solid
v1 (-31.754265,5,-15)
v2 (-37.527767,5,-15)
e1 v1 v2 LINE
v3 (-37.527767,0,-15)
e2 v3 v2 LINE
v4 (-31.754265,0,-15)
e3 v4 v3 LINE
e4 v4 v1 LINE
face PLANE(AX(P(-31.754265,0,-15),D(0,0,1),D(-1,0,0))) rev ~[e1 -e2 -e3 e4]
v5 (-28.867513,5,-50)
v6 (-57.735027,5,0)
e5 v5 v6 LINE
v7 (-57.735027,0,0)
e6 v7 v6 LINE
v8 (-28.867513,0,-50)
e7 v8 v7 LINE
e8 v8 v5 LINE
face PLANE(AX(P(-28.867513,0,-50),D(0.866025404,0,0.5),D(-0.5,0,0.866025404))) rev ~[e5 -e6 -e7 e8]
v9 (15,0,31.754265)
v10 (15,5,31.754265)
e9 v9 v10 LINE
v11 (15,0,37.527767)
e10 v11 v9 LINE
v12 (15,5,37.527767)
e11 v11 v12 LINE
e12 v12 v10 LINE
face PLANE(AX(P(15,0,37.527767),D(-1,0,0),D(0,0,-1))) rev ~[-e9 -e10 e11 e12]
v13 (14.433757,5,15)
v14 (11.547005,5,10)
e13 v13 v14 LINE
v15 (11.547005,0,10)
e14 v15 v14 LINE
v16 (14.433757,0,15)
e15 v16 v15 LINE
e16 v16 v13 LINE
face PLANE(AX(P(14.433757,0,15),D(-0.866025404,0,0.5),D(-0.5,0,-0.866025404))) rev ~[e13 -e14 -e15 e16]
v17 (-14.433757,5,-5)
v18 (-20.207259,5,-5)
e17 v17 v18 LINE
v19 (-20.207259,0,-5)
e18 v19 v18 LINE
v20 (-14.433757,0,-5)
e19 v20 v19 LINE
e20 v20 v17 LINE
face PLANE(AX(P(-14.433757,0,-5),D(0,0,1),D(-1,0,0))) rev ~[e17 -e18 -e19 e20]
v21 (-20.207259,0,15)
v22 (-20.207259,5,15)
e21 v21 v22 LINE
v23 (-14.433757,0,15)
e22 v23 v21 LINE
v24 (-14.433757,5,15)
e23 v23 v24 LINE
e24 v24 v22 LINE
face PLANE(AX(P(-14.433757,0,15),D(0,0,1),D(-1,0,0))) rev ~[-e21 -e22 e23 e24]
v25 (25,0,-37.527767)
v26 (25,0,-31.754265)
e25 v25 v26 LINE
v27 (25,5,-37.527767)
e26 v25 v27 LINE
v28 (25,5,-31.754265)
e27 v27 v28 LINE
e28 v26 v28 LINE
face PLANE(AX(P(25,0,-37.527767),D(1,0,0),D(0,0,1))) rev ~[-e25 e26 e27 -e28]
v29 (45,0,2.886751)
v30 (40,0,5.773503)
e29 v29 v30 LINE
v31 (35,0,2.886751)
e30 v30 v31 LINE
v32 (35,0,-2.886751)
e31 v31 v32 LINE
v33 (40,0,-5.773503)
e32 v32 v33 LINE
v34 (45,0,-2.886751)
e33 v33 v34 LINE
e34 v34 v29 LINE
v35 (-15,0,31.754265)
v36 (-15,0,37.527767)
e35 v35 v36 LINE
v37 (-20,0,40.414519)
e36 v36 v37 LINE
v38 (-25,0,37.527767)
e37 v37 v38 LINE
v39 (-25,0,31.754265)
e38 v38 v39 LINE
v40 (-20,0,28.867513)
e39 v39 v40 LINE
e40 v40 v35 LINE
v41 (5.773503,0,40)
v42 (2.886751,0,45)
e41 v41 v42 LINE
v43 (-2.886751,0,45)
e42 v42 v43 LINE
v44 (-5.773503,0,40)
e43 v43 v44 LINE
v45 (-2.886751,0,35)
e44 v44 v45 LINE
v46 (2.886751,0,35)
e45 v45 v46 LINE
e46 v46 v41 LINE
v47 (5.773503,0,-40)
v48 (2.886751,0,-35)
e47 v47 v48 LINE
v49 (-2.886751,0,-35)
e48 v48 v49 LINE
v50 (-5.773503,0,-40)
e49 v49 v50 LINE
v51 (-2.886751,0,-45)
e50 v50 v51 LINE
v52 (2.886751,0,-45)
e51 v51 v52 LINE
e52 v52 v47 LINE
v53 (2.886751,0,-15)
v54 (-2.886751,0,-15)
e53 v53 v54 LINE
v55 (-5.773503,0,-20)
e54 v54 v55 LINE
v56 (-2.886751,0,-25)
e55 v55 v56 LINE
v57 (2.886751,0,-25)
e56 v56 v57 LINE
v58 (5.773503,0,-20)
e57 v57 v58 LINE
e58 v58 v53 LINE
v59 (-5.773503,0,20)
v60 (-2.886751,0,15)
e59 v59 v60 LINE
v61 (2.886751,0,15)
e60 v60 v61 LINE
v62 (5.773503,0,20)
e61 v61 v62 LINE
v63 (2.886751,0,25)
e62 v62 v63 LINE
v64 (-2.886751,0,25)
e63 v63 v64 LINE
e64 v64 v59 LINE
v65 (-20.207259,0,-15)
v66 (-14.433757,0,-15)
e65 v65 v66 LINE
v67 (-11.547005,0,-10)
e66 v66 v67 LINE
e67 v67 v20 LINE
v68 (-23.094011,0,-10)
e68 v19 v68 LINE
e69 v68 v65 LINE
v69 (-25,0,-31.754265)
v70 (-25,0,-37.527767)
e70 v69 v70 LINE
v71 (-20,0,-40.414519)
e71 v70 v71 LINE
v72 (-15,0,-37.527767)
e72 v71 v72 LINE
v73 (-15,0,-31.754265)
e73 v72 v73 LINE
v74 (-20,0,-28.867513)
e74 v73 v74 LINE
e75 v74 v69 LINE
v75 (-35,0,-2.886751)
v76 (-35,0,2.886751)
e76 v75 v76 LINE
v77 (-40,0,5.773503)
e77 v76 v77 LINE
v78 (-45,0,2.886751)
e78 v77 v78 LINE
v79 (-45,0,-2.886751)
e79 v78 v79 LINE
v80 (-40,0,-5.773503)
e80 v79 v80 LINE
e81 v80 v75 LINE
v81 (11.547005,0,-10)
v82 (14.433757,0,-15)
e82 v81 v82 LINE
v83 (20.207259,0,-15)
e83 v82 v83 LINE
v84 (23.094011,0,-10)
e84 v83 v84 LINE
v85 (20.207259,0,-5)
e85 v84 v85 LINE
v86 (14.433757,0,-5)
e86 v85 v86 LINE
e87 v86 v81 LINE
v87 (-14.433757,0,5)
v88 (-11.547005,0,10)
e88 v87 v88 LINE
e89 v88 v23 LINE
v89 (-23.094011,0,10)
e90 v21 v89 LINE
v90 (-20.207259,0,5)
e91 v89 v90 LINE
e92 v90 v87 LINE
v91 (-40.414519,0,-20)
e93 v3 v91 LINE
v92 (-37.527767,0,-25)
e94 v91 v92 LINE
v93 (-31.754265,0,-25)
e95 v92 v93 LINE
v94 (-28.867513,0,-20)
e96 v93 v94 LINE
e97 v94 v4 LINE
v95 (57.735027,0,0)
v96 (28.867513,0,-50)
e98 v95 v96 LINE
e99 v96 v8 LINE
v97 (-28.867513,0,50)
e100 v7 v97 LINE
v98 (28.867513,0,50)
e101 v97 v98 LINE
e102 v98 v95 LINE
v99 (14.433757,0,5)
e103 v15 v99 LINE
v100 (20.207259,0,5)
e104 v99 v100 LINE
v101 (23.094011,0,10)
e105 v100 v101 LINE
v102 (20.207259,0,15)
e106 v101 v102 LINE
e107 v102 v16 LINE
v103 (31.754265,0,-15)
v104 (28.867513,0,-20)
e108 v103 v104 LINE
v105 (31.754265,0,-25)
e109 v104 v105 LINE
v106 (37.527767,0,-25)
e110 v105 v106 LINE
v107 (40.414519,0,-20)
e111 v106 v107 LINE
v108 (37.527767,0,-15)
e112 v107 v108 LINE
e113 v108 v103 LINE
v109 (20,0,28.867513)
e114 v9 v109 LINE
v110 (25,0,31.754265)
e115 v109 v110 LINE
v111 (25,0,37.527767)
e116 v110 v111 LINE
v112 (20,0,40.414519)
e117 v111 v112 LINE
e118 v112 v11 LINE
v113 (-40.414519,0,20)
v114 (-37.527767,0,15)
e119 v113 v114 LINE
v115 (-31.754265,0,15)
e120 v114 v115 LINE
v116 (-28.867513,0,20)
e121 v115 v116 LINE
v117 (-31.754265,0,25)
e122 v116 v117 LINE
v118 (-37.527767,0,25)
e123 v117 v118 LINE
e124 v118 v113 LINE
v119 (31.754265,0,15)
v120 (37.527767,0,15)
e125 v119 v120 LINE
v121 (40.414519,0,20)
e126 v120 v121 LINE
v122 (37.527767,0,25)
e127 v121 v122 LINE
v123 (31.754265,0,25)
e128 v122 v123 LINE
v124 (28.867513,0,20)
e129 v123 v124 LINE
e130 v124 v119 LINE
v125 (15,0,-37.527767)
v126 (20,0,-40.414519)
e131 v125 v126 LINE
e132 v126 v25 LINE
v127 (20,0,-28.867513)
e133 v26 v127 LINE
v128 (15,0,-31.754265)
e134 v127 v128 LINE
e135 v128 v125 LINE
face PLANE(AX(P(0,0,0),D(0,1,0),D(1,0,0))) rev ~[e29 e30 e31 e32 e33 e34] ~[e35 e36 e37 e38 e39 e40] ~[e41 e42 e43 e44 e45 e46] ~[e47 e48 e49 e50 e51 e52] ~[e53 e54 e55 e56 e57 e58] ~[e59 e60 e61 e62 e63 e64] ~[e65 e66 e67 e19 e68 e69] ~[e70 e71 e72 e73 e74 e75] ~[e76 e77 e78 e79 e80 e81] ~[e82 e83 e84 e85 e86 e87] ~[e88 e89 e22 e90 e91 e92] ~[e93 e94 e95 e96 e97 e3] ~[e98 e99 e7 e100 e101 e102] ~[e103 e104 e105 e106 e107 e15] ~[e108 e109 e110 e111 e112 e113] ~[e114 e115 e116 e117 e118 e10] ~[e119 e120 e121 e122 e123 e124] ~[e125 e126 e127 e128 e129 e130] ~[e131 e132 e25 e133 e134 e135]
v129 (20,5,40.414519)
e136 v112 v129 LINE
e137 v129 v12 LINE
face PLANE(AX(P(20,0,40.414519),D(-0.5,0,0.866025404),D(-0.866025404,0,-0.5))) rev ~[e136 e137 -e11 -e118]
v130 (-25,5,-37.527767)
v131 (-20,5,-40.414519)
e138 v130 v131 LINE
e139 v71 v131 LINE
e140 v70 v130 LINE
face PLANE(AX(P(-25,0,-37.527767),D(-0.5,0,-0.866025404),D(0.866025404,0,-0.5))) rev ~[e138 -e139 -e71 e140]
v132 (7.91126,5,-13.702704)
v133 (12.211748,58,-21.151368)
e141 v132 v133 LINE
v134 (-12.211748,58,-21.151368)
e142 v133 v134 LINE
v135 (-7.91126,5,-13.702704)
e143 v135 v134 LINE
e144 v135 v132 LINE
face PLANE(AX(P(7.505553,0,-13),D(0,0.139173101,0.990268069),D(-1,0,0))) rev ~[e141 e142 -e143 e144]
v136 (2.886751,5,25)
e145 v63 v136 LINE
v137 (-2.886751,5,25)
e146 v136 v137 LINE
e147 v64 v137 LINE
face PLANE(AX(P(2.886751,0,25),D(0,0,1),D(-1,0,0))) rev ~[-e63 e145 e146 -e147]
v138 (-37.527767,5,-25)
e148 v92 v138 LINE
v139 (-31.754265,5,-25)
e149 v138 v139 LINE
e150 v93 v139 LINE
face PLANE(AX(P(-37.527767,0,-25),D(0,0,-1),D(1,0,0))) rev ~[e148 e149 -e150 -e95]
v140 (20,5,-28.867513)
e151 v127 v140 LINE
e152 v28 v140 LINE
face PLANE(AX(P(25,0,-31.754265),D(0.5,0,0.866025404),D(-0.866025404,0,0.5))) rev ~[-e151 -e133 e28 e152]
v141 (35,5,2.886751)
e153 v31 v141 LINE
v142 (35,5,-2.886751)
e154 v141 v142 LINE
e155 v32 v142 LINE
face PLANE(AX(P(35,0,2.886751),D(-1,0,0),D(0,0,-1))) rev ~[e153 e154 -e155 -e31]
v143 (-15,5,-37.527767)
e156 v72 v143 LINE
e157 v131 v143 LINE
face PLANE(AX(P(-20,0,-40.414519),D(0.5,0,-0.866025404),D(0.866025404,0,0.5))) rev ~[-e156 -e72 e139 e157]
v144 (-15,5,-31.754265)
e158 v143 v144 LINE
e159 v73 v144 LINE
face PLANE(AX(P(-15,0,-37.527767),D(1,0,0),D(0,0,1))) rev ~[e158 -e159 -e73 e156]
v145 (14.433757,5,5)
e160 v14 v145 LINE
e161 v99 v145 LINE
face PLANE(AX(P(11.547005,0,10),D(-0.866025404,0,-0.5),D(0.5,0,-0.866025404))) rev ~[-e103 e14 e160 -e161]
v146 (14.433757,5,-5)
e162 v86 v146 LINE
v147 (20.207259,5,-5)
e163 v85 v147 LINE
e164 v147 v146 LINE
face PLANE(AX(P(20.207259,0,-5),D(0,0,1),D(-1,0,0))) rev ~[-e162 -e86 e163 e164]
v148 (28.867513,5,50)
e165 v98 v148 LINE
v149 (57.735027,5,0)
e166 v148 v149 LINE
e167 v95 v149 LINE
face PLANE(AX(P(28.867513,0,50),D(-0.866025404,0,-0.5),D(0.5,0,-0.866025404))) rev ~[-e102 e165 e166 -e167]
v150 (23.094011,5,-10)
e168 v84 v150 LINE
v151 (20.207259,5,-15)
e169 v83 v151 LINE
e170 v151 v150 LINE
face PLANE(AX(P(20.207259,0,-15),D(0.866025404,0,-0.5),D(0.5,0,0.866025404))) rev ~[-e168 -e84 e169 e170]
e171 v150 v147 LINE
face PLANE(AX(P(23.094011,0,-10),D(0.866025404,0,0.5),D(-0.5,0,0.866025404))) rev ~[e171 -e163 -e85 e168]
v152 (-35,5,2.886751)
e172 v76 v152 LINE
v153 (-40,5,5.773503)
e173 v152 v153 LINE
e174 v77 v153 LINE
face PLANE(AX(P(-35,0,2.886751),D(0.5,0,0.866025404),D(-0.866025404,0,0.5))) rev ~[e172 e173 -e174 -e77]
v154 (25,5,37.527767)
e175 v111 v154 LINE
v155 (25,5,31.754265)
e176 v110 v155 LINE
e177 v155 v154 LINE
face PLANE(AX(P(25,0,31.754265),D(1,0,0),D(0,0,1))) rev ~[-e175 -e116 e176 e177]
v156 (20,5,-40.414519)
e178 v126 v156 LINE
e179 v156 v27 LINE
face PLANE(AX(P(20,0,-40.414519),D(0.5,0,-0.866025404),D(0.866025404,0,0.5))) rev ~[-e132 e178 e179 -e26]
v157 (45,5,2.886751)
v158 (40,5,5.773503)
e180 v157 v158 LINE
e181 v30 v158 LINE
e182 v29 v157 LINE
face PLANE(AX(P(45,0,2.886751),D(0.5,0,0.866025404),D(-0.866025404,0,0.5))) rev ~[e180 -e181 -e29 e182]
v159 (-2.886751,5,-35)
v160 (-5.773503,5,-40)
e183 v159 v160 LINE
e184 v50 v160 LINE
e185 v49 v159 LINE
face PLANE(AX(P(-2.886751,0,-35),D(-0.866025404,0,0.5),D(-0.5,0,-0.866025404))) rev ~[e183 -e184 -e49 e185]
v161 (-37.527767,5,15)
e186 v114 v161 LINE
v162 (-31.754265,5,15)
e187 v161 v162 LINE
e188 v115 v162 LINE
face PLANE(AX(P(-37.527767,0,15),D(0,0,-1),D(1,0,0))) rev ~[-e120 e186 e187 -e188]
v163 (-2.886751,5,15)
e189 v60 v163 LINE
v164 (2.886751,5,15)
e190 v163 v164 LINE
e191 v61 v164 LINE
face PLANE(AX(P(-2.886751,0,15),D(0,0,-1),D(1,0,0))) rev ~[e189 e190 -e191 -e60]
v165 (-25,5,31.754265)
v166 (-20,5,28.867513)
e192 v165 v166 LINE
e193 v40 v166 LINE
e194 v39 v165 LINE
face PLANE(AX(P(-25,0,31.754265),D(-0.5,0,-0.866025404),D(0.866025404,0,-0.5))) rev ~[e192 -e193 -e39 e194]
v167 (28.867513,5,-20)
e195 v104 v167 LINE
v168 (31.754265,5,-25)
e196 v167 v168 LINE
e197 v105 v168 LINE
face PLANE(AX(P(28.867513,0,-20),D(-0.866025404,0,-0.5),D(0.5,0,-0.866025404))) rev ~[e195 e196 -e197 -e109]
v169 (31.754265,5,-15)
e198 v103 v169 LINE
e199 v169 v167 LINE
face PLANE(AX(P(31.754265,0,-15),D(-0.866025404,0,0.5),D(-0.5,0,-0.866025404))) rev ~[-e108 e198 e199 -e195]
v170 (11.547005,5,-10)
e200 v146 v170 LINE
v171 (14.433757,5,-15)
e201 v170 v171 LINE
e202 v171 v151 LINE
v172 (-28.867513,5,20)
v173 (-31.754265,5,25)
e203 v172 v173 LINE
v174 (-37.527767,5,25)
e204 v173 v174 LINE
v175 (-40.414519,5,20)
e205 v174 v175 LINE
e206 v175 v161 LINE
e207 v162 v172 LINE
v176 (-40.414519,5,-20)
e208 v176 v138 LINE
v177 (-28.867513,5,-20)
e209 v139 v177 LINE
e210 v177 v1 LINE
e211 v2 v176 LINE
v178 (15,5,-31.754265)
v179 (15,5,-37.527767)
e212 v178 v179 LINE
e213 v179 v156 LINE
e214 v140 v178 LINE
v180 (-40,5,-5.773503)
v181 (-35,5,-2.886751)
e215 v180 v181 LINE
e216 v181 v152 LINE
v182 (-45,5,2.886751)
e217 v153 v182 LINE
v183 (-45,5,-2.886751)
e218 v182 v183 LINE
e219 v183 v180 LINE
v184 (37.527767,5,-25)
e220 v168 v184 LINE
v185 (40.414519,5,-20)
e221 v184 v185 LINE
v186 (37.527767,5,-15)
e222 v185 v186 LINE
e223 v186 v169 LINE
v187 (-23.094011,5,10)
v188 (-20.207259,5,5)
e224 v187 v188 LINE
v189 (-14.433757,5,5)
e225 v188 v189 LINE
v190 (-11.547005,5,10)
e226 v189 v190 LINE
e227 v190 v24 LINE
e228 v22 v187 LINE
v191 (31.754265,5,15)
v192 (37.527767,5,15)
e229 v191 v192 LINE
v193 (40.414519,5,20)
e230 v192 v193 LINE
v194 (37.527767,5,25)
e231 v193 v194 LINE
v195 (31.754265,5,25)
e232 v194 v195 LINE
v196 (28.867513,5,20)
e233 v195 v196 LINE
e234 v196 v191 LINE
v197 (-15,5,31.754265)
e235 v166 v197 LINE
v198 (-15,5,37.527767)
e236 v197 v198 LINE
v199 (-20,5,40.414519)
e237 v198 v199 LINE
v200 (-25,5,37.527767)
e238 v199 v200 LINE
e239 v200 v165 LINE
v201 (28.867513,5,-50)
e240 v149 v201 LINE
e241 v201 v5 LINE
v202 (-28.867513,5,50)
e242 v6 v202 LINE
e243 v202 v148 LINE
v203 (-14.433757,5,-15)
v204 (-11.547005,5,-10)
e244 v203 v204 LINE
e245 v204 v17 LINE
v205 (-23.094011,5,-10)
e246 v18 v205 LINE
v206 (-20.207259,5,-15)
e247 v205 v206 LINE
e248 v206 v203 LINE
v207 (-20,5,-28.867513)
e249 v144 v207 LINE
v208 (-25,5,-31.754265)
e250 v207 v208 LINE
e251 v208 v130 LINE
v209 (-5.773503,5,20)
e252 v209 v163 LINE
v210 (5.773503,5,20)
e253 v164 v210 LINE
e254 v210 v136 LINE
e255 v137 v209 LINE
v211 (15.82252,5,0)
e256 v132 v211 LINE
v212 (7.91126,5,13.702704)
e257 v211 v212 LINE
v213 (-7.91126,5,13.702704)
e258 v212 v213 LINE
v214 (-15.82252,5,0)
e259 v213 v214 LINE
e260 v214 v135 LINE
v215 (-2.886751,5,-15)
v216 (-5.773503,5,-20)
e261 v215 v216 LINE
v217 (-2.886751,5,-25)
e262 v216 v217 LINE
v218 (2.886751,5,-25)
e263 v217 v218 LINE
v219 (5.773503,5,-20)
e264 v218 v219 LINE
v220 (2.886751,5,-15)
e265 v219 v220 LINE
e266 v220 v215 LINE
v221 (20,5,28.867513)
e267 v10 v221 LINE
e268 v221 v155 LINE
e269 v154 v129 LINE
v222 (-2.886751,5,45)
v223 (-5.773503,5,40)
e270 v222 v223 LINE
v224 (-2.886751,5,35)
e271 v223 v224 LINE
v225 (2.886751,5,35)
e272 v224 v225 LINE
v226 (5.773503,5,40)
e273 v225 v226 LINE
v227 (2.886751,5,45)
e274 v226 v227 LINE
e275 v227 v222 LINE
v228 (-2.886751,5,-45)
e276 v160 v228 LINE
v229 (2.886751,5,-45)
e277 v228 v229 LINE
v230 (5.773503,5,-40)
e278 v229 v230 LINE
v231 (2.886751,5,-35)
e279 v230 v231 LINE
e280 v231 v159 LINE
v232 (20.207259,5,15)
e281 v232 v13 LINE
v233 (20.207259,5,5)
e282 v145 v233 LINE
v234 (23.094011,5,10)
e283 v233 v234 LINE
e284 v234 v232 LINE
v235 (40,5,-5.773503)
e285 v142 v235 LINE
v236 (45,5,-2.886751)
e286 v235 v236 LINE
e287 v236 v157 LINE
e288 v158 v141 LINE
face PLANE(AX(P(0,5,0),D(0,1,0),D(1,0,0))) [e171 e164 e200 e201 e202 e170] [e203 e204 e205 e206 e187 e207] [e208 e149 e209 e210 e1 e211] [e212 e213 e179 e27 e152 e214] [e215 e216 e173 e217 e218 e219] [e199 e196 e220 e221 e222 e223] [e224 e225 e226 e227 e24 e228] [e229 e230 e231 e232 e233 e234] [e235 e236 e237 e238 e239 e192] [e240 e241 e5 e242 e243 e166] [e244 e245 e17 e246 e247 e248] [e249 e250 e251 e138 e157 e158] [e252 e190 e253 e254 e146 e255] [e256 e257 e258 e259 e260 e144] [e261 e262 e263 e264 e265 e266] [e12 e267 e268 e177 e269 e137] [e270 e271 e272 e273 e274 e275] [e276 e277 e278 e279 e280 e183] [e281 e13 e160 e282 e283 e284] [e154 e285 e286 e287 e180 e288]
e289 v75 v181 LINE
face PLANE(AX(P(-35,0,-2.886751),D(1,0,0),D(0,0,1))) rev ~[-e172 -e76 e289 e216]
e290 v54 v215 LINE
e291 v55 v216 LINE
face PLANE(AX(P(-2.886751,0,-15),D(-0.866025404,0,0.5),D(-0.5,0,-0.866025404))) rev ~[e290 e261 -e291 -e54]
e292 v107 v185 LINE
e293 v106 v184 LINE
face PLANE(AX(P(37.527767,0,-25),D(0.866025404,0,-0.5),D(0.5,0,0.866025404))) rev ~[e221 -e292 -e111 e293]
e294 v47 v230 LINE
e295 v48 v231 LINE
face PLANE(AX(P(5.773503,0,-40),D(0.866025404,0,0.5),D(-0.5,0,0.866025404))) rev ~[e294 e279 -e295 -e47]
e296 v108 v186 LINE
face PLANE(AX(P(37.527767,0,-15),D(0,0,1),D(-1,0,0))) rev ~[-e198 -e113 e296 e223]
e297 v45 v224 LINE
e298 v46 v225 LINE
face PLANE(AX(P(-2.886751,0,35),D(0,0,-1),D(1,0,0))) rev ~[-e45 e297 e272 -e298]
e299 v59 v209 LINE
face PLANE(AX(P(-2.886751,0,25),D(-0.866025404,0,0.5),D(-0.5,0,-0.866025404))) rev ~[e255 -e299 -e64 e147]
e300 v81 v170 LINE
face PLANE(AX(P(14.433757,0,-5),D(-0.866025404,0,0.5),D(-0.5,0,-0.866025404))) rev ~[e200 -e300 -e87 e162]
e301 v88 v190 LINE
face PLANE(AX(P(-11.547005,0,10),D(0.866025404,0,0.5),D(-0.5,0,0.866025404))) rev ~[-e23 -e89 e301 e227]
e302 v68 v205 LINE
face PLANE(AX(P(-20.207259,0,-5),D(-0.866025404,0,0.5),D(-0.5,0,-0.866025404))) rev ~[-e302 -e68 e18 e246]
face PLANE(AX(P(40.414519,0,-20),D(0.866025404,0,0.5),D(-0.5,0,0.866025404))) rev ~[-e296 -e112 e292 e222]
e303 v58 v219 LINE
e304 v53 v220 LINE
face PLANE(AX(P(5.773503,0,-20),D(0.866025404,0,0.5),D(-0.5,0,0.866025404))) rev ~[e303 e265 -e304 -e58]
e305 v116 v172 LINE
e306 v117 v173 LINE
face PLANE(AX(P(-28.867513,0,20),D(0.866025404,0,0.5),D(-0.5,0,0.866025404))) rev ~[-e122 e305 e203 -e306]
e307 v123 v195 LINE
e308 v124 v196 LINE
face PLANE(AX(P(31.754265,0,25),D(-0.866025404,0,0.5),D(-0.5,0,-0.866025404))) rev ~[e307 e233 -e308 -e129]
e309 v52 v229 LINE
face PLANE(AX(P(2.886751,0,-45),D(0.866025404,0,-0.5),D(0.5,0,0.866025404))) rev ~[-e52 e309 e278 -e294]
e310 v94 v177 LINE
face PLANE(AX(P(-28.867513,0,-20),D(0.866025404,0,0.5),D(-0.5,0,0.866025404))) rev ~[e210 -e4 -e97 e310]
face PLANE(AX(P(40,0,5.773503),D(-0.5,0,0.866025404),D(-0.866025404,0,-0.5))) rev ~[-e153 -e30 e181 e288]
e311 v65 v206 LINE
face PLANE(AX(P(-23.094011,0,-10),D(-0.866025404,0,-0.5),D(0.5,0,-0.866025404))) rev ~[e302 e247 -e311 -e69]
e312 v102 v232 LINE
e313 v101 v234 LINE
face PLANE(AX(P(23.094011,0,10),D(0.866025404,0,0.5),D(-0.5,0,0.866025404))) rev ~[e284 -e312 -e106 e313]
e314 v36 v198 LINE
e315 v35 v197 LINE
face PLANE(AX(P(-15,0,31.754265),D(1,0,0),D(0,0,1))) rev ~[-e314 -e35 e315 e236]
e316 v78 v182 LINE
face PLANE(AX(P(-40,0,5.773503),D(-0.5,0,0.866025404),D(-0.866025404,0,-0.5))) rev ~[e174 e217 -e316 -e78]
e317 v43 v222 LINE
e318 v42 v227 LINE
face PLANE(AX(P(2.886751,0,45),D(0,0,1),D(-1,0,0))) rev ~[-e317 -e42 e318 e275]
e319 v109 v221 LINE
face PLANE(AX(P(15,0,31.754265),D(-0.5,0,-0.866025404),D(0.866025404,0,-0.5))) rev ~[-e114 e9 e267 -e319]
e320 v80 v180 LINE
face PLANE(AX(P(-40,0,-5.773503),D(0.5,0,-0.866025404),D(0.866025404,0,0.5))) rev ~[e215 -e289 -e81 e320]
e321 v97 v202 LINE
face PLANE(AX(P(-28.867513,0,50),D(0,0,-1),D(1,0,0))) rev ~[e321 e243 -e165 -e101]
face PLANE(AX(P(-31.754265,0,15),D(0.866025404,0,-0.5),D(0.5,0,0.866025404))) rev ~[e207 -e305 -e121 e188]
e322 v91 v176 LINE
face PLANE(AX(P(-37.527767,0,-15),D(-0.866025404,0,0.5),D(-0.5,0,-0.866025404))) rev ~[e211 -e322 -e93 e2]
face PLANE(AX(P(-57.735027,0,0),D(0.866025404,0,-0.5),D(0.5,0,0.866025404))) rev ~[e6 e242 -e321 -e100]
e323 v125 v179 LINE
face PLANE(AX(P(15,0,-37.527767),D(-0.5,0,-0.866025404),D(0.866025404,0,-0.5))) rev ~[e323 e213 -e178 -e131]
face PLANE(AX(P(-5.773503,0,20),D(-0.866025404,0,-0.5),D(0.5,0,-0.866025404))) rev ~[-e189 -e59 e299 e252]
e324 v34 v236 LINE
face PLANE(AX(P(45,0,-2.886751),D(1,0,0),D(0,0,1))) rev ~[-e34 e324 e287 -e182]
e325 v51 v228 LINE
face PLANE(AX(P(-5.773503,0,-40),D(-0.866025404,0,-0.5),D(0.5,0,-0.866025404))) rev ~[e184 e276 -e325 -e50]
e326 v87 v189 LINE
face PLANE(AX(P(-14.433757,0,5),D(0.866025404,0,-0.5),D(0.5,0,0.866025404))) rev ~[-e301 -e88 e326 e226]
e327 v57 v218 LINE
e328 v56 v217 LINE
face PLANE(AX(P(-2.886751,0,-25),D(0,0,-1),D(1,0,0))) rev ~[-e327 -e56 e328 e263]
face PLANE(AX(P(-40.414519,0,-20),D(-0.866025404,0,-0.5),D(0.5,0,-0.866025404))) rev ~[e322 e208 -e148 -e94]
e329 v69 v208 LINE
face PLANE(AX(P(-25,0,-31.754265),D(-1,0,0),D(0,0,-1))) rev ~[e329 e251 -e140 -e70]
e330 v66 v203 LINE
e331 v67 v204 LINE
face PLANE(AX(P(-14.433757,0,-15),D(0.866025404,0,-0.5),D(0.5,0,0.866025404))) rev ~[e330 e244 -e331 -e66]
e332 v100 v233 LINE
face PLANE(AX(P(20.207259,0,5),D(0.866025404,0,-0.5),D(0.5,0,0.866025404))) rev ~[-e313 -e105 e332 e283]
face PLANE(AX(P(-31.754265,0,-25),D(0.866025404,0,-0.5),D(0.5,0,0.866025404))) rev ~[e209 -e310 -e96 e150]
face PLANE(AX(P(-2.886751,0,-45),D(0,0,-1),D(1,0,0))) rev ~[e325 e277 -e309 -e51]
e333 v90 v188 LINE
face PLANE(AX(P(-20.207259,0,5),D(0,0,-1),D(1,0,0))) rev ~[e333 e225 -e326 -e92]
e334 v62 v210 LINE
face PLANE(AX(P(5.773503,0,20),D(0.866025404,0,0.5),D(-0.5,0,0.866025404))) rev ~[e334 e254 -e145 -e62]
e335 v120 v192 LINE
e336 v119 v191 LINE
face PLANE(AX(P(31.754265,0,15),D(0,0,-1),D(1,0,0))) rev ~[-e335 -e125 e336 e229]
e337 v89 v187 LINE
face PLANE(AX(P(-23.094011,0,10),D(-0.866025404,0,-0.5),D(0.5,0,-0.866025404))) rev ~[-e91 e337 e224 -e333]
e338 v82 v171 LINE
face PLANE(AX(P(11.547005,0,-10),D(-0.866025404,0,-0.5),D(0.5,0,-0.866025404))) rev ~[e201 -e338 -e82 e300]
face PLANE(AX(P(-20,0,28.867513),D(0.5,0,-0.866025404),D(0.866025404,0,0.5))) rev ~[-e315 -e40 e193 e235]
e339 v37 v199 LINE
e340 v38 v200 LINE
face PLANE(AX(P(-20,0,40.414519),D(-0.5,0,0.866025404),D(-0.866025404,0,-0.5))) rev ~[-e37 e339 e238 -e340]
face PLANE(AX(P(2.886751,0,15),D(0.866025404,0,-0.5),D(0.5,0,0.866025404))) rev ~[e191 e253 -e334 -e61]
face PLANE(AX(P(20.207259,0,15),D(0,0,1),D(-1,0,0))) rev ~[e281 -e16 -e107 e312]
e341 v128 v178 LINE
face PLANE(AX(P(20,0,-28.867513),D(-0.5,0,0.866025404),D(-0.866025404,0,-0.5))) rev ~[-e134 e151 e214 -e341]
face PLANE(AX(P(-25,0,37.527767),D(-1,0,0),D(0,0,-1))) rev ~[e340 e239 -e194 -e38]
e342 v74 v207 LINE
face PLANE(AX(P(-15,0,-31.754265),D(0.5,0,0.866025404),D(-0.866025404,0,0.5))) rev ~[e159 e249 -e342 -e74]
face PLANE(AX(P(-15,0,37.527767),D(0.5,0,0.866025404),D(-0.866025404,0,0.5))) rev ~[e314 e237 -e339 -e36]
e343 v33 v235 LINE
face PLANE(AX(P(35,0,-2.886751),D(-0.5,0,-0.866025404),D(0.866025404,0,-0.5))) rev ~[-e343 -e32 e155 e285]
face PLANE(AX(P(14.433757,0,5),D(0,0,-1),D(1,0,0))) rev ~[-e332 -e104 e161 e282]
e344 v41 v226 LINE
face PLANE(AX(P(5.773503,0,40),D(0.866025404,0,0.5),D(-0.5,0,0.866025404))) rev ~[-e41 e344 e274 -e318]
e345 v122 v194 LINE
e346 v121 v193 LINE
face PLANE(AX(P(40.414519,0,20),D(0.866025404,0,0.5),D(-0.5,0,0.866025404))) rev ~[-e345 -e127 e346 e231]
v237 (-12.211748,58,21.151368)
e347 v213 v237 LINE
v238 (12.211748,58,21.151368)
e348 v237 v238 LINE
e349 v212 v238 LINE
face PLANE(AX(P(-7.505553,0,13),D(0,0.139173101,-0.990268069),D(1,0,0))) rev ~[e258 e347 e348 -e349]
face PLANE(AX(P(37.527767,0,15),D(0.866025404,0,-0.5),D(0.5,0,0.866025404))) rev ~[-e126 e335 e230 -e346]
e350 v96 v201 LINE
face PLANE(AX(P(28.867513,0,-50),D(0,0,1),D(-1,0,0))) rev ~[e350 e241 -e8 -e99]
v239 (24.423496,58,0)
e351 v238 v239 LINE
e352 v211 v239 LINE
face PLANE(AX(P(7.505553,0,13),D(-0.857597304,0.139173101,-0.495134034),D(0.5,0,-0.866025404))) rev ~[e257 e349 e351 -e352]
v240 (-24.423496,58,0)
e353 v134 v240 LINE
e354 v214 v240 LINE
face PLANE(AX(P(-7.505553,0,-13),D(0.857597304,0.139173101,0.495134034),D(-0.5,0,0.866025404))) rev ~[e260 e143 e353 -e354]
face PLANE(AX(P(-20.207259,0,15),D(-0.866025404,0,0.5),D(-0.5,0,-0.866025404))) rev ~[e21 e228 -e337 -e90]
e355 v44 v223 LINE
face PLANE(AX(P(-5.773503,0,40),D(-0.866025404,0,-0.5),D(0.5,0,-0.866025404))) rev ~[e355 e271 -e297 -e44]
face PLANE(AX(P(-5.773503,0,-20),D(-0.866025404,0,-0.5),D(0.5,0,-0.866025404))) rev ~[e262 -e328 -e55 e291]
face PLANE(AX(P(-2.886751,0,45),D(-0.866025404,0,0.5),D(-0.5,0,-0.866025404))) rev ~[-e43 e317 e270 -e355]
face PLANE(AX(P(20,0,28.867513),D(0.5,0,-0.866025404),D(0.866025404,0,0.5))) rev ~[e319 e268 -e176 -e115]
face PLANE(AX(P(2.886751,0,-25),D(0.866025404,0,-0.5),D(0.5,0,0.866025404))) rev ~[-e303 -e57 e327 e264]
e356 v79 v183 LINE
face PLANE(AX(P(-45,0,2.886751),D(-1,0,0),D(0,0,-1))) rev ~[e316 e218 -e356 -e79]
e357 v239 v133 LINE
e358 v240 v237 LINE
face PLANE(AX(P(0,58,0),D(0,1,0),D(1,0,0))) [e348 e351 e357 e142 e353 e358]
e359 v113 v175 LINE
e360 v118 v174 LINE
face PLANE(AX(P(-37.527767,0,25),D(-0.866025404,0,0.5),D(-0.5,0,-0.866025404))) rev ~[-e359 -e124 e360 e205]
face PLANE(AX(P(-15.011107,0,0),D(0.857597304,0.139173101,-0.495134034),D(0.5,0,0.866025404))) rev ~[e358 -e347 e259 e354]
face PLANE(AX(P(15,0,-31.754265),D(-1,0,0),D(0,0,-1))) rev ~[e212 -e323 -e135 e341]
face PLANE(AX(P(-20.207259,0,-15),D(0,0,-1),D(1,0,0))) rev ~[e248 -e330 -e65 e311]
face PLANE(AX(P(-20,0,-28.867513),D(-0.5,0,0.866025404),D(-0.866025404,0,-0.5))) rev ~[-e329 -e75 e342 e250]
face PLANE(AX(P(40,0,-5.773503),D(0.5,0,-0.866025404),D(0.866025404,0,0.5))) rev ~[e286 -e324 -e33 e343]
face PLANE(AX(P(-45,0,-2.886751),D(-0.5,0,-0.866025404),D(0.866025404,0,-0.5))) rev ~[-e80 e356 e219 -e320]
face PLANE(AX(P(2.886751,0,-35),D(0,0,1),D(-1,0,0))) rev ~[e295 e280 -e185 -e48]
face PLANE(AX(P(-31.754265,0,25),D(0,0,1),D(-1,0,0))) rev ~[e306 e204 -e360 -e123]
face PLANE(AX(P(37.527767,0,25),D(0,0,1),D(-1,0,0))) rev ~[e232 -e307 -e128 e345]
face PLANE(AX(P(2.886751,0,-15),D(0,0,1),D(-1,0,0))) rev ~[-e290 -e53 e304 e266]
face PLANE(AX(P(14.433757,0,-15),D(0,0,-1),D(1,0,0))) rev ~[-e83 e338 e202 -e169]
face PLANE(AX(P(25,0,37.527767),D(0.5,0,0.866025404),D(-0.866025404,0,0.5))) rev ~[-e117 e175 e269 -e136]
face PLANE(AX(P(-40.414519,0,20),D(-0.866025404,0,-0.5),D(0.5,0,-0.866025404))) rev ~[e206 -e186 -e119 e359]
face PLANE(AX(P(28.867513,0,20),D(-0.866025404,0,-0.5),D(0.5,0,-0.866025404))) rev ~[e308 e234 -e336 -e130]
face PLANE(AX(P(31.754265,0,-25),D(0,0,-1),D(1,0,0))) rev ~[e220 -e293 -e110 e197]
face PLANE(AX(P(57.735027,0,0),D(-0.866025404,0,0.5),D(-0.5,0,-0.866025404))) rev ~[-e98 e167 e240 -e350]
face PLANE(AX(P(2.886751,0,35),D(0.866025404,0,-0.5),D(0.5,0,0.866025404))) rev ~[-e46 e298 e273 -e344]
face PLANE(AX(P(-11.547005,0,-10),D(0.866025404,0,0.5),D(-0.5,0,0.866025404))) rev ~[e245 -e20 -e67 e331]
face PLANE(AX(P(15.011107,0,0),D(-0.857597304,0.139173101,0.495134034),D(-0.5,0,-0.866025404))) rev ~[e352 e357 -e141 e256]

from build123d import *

# Parameters (mm, degrees)
BOSS_EXTRUDE1_DEPTH = 5
BOSS_EXTRUDE2_DEPTH = 58
BOSS_EXTRUDE2_DRAFT = -8


with BuildPart() as part:
    # Sketch1 → Boss-Extrude1 (new body)
    with BuildSketch(Plane(origin=(0, 0, 0), x_dir=(1, 0, 0), z_dir=(0, 1, 0))):
        Polygon((38.97114317, 32.5), (28.867513459, 50), (8.660254038, 50), (-8.660254038, 50), (-28.867513459, 50), (-38.97114317, 32.5), (-47.631397208, 17.5), (-57.735026919, 0), (-47.631397208, -17.5), (-38.97114317, -32.5), (-28.867513459, -50), (-8.660254038, -50), (8.660254038, -50), (28.867513459, -50), (38.97114317, -32.5), (47.631397208, -17.5), (57.735026919, 0), (47.631397208, 17.5), align=None)
        Polygon((-20, -40.414518843), (-25, -37.527767497), (-25, -31.754264805), (-20, -28.867513459), (-15, -31.754264805), (-15, -37.527767497), align=None, mode=Mode.SUBTRACT)
        Polygon((2.886751346, -45), (-2.886751346, -45), (-5.773502692, -40), (-2.886751346, -35), (2.886751346, -35), (5.773502692, -40), align=None, mode=Mode.SUBTRACT)
        Polygon((-37.527767497, -25), (-40.414518843, -20), (-37.527767497, -15), (-31.754264805, -15), (-28.867513459, -20), (-31.754264805, -25), align=None, mode=Mode.SUBTRACT)
        Polygon((-2.886751346, -25), (-5.773502692, -20), (-2.886751346, -15), (2.886751346, -15), (5.773502692, -20), (2.886751346, -25), align=None, mode=Mode.SUBTRACT)
        Polygon((-23.094010768, -10), (-20.207259422, -5), (-14.43375673, -5), (-11.547005384, -10), (-14.43375673, -15), (-20.207259422, -15), align=None, mode=Mode.SUBTRACT)
        Polygon((25, -37.527767497), (20, -40.414518843), (15, -37.527767497), (15, -31.754264805), (20, -28.867513459), (25, -31.754264805), align=None, mode=Mode.SUBTRACT)
        Polygon((40.414518843, -20), (37.527767497, -25), (31.754264805, -25), (28.867513459, -20), (31.754264805, -15), (37.527767497, -15), align=None, mode=Mode.SUBTRACT)
        Polygon((20.207259422, -15), (14.43375673, -15), (11.547005384, -10), (14.43375673, -5), (20.207259422, -5), (23.094010768, -10), align=None, mode=Mode.SUBTRACT)
        Polygon((45, 2.886751346), (45, -2.886751346), (40, -5.773502692), (35, -2.886751346), (35, 2.886751346), (40, 5.773502692), align=None, mode=Mode.SUBTRACT)
        Polygon((-45, -2.886751346), (-45, 2.886751346), (-40, 5.773502692), (-35, 2.886751346), (-35, -2.886751346), (-40, -5.773502692), align=None, mode=Mode.SUBTRACT)
        Polygon((-20.207259422, 15), (-14.43375673, 15), (-11.547005384, 10), (-14.43375673, 5), (-20.207259422, 5), (-23.094010768, 10), align=None, mode=Mode.SUBTRACT)
        Polygon((-40.414518843, 20), (-37.527767497, 25), (-31.754264805, 25), (-28.867513459, 20), (-31.754264805, 15), (-37.527767497, 15), align=None, mode=Mode.SUBTRACT)
        Polygon((-25, 37.527767497), (-20, 40.414518843), (-15, 37.527767497), (-15, 31.754264805), (-20, 28.867513459), (-25, 31.754264805), align=None, mode=Mode.SUBTRACT)
        Polygon((23.094010768, 10), (20.207259422, 5), (14.43375673, 5), (11.547005384, 10), (14.43375673, 15), (20.207259422, 15), align=None, mode=Mode.SUBTRACT)
        Polygon((37.527767497, 25), (40.414518843, 20), (37.527767497, 15), (31.754264805, 15), (28.867513459, 20), (31.754264805, 25), align=None, mode=Mode.SUBTRACT)
        Polygon((2.886751346, 25), (5.773502692, 20), (2.886751346, 15), (-2.886751346, 15), (-5.773502692, 20), (-2.886751346, 25), align=None, mode=Mode.SUBTRACT)
        Polygon((20, 40.414518843), (25, 37.527767497), (25, 31.754264805), (20, 28.867513459), (15, 31.754264805), (15, 37.527767497), align=None, mode=Mode.SUBTRACT)
        Polygon((-2.886751346, 45), (2.886751346, 45), (5.773502692, 40), (2.886751346, 35), (-2.886751346, 35), (-5.773502692, 40), align=None, mode=Mode.SUBTRACT)
    extrude(amount=BOSS_EXTRUDE1_DEPTH)


with BuildPart() as boss_extrude2_tool:
    # Sketch2 → Boss-Extrude2 (with draft: the straight prism first)
    with BuildSketch(Plane(origin=(0, 0, 0), x_dir=(1, 0, 0), z_dir=(0, 1, 0))):
        Polygon((7.505553499, -13), (15.011106999, 0), (7.505553499, 13), (-7.505553499, 13), (-15.011106999, 0), (-7.505553499, -13), align=None)
    extrude(amount=BOSS_EXTRUDE2_DEPTH)
    # Boss-Extrude2: the draft: its side faces are tilted about the plane it starts from
    boss_extrude2_sides = [boss_extrude2_tool.faces().sort_by_distance(p)[0] for p in [
        (11.258330249, 29, 6.5),
        (11.258330249, 29, -6.5),
        (0, 29, -13),
        (-11.258330249, 29, -6.5),
        (-11.258330249, 29, 6.5),
        (0, 29, 13),
    ]]
    draft(boss_extrude2_sides, Plane(origin=(0, 0, 0), x_dir=(1, 0, 0), z_dir=(0, 1, 0)), BOSS_EXTRUDE2_DRAFT)


with BuildPart() as part_1:
    add(part.part)

    # Boss-Extrude2: add boss_extrude2_tool
    add(boss_extrude2_tool.part)


solid = part_1.part
